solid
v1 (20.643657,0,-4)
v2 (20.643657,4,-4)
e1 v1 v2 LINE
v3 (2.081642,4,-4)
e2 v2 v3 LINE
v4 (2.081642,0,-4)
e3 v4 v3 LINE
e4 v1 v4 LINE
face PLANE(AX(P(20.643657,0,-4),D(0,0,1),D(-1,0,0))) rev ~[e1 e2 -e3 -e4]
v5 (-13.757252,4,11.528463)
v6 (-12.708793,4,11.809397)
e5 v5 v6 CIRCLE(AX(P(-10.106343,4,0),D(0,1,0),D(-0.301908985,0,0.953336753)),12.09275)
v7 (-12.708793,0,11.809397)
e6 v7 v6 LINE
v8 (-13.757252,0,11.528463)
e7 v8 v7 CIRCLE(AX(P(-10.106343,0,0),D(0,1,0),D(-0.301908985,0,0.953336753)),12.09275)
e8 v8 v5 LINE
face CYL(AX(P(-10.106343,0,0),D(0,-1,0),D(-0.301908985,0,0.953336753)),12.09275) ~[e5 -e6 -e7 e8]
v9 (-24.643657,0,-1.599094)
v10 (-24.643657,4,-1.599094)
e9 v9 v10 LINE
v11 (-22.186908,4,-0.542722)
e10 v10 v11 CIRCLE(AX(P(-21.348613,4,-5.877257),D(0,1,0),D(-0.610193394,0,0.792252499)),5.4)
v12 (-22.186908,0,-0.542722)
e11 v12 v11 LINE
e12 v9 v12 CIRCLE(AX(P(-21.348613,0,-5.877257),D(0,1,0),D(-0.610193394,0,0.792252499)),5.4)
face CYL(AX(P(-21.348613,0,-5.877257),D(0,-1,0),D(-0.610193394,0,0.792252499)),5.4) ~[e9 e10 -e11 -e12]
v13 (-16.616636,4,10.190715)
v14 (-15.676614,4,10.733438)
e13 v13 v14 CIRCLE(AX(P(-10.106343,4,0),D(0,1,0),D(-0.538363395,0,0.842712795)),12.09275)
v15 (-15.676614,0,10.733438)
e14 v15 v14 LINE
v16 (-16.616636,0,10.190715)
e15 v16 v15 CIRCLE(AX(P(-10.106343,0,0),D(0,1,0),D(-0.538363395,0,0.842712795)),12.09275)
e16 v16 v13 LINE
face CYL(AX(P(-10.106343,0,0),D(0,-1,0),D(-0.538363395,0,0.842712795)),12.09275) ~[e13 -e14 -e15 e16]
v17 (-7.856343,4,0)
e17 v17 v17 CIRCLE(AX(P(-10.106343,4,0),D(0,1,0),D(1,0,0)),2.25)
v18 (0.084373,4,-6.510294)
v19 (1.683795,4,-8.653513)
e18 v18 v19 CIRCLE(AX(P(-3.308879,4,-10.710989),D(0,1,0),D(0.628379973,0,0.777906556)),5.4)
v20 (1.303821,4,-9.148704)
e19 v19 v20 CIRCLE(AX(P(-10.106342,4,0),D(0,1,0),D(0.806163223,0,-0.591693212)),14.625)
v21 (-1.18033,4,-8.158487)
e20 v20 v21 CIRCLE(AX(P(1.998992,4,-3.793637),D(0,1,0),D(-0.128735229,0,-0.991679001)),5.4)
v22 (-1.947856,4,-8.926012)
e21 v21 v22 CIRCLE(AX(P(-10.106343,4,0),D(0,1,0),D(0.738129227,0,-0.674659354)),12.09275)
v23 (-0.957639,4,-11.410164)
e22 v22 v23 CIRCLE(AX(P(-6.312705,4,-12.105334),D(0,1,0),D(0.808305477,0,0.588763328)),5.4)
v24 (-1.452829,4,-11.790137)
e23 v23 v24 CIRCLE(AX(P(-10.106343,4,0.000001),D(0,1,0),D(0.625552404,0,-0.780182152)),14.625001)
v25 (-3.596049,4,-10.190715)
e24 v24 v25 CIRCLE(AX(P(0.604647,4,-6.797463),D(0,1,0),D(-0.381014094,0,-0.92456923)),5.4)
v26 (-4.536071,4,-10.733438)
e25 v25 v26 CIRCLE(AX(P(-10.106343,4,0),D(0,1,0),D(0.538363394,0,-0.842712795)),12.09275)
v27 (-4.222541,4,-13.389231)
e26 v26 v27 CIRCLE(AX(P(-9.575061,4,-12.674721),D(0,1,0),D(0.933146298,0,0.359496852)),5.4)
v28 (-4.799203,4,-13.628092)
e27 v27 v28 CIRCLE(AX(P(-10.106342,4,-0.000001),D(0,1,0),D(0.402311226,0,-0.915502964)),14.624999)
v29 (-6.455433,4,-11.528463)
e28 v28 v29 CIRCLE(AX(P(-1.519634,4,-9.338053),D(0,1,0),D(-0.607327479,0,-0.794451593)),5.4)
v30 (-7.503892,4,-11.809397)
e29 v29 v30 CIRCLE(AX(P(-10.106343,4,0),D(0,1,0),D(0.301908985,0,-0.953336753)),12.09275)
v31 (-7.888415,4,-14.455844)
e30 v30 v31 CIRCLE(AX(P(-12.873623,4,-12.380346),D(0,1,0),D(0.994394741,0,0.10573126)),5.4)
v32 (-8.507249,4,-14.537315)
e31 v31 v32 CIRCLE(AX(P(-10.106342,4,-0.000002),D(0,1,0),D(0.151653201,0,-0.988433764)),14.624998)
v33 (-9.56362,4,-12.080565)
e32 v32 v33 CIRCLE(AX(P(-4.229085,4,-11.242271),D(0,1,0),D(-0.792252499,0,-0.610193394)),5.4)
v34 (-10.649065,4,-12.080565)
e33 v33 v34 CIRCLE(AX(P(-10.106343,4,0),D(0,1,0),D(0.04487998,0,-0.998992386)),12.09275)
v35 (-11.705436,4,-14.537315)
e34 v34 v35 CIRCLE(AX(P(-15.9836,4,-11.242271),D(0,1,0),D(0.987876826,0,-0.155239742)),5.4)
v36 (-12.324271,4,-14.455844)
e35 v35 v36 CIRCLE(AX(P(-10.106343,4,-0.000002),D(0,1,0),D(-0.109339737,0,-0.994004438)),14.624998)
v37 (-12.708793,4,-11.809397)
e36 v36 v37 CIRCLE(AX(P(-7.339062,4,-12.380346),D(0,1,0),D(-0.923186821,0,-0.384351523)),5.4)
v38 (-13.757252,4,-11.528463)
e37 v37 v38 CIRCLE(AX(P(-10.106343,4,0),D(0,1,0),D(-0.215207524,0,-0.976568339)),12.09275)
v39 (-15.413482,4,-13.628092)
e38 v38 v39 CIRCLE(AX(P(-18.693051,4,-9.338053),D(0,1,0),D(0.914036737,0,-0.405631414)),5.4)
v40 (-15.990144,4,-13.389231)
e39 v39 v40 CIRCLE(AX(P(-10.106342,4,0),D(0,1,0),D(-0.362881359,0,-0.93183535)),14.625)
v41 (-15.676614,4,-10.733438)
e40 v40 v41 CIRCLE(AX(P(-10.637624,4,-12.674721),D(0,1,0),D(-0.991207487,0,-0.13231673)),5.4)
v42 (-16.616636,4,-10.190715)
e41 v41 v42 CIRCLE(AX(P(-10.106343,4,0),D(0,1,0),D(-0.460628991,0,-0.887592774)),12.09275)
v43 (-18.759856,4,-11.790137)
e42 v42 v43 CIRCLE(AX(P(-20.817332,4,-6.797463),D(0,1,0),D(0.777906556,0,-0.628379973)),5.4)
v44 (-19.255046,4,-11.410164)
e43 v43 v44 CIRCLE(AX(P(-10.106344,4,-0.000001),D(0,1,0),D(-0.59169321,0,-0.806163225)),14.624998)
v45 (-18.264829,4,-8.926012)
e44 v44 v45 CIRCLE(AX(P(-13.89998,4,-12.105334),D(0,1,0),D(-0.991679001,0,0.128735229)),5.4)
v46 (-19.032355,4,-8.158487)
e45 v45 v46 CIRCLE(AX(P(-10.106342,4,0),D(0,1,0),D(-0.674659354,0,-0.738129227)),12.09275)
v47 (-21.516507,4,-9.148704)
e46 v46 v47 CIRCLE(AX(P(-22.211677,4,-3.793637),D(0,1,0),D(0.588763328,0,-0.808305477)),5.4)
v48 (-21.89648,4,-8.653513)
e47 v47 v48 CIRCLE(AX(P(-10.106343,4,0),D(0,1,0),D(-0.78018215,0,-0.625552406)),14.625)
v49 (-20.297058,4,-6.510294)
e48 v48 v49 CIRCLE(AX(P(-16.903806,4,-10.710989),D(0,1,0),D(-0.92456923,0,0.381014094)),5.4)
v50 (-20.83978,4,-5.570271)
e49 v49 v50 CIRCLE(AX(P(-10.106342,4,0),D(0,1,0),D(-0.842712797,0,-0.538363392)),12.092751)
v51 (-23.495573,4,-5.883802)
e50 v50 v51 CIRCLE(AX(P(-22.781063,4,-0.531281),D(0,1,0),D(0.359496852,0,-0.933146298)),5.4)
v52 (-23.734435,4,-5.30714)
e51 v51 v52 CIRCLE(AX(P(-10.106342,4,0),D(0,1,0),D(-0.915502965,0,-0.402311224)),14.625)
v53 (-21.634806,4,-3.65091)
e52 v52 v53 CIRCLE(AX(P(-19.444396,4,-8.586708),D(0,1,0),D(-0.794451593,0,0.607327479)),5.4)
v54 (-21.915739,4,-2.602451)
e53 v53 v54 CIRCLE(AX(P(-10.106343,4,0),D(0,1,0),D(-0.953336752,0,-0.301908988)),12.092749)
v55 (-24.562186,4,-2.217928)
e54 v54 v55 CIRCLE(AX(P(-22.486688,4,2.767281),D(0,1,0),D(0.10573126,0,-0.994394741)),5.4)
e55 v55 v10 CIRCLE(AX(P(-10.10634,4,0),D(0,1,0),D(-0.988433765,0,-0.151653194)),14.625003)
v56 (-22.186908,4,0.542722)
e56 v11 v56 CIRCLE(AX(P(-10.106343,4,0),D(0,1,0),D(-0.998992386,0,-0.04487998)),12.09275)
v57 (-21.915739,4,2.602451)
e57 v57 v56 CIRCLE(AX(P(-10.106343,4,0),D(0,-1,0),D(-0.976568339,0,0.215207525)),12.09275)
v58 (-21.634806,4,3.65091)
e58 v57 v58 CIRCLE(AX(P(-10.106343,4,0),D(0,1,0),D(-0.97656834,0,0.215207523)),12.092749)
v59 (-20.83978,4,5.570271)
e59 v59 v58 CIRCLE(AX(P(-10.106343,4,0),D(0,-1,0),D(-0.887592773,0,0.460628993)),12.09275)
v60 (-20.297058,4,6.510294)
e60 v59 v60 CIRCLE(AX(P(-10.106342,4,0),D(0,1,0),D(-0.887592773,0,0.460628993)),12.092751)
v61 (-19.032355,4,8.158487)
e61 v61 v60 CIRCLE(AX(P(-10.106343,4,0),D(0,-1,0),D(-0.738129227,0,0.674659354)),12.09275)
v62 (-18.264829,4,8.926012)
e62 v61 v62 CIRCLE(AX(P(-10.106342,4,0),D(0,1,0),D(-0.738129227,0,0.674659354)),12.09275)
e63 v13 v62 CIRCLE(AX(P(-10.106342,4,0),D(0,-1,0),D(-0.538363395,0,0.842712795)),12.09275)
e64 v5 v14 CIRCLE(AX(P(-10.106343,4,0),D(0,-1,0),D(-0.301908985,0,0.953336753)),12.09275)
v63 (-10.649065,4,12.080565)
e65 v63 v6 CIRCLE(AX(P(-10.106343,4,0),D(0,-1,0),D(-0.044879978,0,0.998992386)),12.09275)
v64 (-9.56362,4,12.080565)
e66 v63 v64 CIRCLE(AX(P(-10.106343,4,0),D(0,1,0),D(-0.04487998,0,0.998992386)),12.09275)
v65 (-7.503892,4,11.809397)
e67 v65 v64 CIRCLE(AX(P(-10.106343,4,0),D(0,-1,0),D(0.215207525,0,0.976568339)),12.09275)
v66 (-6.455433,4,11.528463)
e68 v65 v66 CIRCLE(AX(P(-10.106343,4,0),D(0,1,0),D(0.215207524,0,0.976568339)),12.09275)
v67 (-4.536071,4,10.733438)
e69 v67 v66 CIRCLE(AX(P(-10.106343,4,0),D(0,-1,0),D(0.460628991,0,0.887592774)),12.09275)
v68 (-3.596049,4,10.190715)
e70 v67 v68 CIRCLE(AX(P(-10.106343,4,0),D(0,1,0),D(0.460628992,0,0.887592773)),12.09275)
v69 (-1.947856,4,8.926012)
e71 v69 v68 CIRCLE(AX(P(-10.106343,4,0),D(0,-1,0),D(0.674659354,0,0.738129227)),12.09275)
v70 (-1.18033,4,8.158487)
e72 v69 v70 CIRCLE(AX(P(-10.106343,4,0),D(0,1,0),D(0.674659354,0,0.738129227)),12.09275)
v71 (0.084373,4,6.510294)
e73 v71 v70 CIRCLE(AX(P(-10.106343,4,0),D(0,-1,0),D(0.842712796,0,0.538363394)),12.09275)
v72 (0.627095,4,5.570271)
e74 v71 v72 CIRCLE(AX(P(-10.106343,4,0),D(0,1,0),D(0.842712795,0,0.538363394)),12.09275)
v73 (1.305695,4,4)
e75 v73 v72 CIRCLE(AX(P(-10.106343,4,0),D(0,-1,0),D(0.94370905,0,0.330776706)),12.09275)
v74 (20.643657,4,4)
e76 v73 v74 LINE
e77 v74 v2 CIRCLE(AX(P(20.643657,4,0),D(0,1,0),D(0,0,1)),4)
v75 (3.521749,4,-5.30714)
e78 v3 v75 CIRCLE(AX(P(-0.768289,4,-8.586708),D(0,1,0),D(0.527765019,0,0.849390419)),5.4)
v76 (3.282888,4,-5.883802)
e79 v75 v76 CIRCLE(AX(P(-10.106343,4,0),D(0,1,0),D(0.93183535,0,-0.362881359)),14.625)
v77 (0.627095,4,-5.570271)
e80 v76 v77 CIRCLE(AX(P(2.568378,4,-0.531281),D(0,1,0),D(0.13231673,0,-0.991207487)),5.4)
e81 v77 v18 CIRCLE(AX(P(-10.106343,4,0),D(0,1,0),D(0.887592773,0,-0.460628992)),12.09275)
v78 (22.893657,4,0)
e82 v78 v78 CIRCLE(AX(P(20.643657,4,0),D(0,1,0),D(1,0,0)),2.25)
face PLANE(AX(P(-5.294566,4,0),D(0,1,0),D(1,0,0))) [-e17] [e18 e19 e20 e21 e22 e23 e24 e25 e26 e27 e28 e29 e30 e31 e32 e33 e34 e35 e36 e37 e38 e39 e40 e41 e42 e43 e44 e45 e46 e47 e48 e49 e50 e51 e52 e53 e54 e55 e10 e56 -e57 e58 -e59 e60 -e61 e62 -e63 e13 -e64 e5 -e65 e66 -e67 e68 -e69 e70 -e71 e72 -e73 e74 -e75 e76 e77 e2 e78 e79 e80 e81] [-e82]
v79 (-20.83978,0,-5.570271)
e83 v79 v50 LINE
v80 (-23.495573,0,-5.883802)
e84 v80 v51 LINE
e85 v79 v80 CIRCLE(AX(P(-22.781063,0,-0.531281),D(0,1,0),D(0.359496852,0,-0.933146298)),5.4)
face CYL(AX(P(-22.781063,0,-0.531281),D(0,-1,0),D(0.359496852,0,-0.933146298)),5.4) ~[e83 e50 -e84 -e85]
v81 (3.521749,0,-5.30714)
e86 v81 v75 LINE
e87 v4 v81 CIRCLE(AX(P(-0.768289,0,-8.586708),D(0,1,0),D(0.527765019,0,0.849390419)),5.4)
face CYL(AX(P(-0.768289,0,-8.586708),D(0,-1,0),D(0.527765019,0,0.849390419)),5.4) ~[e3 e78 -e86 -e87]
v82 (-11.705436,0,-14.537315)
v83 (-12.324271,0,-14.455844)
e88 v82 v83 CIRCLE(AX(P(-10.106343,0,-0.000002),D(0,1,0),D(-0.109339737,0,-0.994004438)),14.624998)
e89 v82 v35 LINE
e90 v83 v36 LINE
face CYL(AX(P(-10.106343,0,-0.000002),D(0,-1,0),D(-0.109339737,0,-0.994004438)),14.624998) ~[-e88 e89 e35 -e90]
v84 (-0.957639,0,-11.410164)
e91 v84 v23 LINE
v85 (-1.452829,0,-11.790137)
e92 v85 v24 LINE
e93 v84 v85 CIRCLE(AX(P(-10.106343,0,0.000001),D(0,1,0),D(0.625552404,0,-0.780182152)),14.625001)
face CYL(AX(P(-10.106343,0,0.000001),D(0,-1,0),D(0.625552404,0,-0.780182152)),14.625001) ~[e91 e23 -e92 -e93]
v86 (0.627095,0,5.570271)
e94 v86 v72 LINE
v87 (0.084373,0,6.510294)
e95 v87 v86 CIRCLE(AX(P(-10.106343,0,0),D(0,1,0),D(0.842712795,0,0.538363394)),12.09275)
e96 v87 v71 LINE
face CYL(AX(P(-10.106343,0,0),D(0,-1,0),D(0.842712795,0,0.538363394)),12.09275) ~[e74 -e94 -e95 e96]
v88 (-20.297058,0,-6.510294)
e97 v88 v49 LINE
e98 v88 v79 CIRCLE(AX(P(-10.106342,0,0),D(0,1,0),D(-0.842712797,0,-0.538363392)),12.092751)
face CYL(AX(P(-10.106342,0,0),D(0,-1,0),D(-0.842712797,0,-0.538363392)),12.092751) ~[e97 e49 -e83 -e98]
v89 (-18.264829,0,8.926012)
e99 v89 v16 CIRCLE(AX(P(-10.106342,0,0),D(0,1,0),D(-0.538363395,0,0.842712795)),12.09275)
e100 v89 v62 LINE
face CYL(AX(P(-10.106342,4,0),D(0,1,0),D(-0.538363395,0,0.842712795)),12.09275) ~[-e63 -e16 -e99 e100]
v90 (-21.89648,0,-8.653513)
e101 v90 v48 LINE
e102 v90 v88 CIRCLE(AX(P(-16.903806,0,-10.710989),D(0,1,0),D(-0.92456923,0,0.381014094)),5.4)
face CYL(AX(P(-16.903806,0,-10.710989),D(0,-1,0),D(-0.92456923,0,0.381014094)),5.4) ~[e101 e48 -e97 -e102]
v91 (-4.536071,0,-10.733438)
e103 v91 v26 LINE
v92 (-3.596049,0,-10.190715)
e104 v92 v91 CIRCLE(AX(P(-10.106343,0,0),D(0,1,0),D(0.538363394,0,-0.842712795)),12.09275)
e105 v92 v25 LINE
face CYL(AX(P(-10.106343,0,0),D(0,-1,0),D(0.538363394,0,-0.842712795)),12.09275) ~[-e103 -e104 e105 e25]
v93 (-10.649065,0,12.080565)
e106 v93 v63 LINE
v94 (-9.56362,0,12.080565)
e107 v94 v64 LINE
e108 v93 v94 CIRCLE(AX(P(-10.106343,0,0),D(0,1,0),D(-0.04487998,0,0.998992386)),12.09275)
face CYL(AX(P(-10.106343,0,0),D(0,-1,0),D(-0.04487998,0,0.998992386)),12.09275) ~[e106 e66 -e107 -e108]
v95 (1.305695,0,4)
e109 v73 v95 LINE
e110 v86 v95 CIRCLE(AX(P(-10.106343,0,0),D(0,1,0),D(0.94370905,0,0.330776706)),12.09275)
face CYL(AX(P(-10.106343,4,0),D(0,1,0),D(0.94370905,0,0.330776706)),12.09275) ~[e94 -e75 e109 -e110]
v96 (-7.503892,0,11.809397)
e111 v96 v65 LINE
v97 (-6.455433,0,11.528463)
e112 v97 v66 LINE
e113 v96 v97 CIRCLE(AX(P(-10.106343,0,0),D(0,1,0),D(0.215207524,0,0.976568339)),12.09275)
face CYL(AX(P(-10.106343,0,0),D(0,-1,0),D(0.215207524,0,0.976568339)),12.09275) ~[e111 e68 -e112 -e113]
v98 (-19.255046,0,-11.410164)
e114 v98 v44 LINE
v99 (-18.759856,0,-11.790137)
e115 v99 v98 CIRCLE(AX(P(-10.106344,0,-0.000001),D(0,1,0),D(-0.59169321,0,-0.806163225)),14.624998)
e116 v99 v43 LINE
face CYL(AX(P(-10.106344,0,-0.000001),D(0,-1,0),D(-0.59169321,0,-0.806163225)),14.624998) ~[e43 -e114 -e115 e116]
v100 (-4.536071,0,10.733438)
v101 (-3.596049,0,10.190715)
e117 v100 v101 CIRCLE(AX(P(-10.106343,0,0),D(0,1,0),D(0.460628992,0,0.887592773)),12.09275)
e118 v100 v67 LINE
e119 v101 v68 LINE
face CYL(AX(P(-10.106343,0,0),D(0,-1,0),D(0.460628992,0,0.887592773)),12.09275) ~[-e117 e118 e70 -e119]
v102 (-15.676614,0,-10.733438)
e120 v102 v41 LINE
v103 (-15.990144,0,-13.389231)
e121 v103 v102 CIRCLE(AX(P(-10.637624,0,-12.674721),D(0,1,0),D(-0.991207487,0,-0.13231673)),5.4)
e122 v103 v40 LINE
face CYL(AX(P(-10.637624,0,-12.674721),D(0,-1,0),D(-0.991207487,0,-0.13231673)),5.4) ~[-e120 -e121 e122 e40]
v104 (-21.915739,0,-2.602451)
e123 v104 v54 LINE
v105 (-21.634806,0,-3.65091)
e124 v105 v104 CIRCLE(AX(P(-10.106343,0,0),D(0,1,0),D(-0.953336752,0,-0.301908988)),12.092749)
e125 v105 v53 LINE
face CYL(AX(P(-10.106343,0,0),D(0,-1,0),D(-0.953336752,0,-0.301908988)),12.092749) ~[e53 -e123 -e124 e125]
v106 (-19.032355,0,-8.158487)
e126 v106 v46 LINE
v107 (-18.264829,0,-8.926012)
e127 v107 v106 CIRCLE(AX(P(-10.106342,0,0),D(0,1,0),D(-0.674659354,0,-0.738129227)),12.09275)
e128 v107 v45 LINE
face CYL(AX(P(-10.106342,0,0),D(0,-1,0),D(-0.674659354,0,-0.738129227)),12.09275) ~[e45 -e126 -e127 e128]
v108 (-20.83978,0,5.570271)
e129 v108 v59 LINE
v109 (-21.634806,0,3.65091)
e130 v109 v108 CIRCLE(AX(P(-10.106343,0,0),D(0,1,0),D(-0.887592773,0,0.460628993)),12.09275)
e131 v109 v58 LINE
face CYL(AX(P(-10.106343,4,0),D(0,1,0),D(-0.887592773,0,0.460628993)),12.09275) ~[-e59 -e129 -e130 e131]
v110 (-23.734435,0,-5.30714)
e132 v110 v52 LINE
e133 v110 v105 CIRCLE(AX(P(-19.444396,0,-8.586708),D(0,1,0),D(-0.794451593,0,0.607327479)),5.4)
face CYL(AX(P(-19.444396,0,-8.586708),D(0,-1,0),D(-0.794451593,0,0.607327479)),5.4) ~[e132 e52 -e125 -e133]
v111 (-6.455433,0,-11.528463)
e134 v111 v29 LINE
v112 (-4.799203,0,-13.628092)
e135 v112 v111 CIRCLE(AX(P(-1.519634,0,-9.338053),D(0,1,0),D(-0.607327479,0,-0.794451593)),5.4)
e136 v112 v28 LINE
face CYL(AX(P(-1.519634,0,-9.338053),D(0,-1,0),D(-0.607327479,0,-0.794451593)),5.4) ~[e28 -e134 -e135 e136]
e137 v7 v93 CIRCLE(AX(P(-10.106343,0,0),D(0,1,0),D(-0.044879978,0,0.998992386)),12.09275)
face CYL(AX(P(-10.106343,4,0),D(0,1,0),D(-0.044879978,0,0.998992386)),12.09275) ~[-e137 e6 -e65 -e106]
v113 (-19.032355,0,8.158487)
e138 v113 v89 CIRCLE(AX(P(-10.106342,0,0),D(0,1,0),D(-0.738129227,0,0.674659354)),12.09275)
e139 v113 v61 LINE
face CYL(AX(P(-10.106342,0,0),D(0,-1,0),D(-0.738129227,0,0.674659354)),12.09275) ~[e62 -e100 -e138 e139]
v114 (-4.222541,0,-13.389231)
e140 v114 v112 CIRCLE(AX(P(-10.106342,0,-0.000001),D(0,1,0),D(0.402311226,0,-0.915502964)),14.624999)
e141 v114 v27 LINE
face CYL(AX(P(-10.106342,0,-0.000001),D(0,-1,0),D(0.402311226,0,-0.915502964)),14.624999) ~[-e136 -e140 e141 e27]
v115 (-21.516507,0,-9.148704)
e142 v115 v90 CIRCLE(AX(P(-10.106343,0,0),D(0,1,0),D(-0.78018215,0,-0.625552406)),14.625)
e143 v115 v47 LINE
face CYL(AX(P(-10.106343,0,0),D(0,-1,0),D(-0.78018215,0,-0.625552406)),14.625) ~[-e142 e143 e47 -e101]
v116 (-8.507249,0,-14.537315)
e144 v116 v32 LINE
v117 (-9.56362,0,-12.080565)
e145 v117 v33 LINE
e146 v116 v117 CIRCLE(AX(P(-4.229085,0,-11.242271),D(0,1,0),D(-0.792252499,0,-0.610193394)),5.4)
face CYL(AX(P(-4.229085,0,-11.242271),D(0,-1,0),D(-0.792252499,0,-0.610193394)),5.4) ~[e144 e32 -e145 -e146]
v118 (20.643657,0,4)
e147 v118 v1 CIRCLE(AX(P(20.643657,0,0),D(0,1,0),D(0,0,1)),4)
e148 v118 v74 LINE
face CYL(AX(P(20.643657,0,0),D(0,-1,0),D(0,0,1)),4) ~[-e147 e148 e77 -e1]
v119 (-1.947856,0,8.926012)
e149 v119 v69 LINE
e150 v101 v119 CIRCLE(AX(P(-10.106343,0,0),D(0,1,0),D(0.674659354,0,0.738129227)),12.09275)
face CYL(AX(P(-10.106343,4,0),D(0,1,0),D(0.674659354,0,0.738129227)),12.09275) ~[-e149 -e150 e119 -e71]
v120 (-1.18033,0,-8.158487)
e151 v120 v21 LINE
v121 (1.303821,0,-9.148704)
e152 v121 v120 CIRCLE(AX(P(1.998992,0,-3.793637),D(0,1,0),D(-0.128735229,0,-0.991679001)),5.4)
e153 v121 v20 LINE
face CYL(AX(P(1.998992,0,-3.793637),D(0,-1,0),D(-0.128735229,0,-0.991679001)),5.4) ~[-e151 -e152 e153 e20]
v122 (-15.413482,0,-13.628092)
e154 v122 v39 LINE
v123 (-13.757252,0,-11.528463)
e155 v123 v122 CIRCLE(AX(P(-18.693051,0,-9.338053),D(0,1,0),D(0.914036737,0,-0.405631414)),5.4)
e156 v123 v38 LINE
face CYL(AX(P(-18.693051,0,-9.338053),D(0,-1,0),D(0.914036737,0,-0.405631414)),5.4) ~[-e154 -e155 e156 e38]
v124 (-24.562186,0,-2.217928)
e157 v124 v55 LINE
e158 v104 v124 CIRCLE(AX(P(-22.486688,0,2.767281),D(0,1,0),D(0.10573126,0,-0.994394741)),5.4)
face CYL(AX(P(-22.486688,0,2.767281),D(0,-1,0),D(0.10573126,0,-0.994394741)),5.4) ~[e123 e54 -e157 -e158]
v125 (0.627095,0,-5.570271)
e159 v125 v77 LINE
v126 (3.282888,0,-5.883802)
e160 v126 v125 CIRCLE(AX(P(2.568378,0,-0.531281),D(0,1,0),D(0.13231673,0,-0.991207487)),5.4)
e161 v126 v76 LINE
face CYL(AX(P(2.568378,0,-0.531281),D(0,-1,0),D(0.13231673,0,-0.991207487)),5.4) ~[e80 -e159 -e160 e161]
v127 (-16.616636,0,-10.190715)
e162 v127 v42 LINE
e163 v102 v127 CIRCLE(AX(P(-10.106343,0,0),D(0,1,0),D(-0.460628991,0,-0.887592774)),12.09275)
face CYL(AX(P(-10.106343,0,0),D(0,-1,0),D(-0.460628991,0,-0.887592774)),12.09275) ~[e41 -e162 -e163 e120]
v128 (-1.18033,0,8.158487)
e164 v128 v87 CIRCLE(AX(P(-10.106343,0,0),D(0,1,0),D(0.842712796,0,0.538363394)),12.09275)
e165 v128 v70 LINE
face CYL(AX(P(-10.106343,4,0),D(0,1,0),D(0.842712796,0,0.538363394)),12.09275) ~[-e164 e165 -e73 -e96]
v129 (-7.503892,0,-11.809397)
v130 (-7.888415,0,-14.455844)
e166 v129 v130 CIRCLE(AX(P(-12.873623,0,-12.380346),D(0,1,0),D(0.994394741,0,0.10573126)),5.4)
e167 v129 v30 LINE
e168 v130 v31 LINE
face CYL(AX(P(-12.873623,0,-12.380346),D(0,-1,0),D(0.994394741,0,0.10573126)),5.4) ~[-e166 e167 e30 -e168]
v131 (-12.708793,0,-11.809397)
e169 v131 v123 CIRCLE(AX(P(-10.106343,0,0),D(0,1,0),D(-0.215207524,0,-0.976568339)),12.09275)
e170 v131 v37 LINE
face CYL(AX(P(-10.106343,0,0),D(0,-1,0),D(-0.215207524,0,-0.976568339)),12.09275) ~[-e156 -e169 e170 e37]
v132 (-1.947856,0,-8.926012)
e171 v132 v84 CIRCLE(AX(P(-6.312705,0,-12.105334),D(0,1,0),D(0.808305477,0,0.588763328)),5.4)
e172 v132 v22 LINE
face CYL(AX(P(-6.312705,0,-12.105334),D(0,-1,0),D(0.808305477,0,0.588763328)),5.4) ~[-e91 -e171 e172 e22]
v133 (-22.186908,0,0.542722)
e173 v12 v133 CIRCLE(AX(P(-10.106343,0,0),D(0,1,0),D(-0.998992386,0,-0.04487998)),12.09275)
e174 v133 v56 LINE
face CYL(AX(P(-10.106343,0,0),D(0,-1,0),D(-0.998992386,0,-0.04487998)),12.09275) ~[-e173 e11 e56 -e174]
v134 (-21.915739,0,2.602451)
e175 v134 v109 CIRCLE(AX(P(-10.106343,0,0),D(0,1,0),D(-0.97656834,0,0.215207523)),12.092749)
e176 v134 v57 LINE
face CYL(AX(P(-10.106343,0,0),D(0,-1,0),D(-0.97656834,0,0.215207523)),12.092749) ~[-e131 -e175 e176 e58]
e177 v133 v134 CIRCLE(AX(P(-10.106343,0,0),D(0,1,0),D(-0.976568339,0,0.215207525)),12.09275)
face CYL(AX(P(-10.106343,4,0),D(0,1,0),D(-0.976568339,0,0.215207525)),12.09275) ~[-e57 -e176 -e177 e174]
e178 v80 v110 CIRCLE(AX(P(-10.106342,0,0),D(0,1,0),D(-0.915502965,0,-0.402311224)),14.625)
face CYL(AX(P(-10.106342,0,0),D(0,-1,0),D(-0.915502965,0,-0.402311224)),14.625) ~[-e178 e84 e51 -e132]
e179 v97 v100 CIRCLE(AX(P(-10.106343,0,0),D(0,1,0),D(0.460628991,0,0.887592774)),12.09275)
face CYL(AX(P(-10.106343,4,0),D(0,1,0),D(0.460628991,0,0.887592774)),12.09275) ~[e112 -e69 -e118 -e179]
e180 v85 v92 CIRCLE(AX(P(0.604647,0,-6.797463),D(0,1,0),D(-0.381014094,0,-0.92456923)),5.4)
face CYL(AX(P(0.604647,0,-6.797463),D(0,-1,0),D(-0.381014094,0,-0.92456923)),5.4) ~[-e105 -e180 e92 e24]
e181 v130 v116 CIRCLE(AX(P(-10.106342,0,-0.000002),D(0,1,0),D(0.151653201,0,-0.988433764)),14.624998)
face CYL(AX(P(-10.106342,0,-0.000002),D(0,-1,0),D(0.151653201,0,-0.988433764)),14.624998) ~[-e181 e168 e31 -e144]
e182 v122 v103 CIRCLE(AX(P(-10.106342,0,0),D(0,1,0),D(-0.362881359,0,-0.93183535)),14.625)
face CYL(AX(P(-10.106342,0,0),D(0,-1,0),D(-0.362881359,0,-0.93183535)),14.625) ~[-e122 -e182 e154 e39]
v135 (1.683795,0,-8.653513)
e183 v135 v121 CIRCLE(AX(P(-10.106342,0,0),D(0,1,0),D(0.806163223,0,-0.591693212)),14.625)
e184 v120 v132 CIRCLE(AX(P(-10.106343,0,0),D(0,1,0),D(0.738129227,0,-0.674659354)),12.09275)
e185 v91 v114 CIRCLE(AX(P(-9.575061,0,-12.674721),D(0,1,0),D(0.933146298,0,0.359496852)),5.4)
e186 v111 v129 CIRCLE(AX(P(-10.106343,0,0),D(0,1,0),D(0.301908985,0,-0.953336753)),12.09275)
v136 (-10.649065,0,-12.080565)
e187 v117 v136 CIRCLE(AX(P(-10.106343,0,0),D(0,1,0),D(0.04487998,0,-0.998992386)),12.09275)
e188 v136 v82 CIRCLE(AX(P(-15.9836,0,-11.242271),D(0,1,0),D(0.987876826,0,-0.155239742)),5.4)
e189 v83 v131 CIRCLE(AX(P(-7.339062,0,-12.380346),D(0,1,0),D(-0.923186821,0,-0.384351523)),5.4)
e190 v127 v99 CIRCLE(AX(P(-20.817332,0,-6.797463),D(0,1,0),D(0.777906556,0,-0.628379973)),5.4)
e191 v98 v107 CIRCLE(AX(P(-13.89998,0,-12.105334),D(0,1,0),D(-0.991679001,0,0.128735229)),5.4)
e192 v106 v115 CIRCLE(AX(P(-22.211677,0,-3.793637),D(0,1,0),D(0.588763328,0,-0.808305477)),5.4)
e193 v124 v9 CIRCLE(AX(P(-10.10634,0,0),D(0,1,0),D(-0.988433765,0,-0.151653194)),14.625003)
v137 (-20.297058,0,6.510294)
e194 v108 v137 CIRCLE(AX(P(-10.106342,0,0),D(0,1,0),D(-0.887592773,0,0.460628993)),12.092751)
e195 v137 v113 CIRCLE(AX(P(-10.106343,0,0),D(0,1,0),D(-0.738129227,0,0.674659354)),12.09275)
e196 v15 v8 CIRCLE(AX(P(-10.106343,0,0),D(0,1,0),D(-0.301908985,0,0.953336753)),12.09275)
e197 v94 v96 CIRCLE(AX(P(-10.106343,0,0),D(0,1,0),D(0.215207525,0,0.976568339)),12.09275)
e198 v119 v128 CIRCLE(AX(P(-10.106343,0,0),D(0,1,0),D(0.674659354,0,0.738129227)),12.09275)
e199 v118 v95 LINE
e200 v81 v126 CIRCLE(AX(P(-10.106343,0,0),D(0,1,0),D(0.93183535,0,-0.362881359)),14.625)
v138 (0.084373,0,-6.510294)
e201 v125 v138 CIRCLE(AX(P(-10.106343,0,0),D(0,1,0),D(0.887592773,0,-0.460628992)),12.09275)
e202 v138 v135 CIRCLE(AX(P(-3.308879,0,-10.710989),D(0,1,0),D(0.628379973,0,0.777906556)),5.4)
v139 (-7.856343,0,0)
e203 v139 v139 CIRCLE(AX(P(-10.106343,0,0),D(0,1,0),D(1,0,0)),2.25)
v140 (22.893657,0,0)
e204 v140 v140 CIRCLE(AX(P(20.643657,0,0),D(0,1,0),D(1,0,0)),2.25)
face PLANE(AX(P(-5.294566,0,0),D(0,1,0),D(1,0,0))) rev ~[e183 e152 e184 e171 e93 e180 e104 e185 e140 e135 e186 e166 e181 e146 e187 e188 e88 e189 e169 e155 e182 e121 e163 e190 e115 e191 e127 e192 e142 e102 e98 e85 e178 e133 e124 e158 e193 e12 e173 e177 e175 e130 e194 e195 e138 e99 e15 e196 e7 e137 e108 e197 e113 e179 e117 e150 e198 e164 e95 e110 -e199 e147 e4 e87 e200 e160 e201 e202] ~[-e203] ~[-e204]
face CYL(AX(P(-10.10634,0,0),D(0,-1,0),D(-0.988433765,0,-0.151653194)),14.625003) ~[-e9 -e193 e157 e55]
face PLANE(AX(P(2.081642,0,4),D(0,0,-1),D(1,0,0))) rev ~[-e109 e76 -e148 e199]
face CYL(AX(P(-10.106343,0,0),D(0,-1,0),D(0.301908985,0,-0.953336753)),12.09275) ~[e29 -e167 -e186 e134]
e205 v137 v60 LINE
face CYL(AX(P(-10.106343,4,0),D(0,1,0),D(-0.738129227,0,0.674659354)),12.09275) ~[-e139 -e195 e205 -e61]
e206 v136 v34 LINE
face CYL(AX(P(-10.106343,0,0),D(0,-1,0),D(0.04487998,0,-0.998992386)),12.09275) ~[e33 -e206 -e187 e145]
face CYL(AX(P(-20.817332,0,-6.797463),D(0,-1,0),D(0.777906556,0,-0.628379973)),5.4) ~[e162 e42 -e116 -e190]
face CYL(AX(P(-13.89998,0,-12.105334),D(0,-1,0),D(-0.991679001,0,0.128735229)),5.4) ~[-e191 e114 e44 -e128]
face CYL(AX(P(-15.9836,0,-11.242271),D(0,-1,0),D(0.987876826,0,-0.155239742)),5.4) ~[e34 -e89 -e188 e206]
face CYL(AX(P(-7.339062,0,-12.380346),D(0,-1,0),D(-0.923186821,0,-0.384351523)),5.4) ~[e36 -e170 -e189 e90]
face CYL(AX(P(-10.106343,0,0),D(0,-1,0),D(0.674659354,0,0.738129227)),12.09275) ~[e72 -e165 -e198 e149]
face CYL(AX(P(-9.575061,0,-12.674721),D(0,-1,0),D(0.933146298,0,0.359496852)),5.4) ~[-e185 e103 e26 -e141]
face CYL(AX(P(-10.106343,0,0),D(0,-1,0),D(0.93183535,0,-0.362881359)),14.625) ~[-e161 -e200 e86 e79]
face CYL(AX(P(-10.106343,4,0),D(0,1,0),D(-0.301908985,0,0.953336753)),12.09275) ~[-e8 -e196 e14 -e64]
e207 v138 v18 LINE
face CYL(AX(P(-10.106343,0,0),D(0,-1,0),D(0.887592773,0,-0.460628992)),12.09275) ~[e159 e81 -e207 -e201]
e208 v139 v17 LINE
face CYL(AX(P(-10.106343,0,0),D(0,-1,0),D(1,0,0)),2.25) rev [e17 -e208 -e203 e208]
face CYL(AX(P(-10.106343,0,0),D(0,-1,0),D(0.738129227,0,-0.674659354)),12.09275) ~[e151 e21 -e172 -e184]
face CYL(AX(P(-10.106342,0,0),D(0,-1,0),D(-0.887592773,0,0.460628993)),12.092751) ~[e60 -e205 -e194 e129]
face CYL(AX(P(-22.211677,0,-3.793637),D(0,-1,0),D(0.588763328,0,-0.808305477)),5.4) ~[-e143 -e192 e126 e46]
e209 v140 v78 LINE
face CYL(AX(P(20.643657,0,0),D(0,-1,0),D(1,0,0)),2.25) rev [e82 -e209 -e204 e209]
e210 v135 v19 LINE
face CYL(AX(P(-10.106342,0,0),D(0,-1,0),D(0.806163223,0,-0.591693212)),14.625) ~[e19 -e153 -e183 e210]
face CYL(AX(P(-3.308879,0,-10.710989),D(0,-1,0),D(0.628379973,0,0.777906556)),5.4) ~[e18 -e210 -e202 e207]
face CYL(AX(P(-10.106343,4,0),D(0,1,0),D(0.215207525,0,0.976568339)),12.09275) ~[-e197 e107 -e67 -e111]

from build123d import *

# Parameters (mm, degrees)
SKETCH1_R           = 2.25
BOSS_EXTRUDE1_DEPTH = 4
CUT_EXTRUDE1_DEPTH  = 10


with BuildPart() as part:
    # Sketch1 → Boss-Extrude1 (new body)
    with BuildSketch(Plane(origin=(0, 0, 0), x_dir=(1, 0, 0), z_dir=(0, 1, 0))):
        with BuildLine():
            Line((20.643657446, 4), (2.081641936, 4))
            ThreePointArc((2.081641936, 4), (2.861028333, 4.588201733), (3.521749436, 5.30713988))
            ThreePointArc((3.521749436, 5.30713988), (3.405395609, 5.596745198), (3.282888305, 5.883801663))
            ThreePointArc((3.282888305, 5.883801663), (1.93527598, 5.894040025), (0.627094961, 5.57027124))
            ThreePointArc((0.627094961, 5.57027124), (0.366286148, 6.046375), (0.084372603, 6.510293938))
            ThreePointArc((0.084372603, 6.510293938), (1.018855105, 7.48132754), (1.683794586, 8.65351323))
            ThreePointArc((1.683794586, 8.65351323), (1.496450048, 8.903135899), (1.303821399, 9.148703928))
            ThreePointArc((1.303821399, 9.148703928), (-0.000522033, 8.809805691), (-1.180330337, 8.158486898))
            ThreePointArc((-1.180330337, 8.158486898), (-1.555477026, 8.550865528), (-1.947855656, 8.926012217))
            ThreePointArc((-1.947855656, 8.926012217), (-1.296536862, 10.105820521), (-0.957638625, 11.410163953))
            ThreePointArc((-0.957638625, 11.410163953), (-1.203206655, 11.602792602), (-1.452829324, 11.79013714))
            ThreePointArc((-1.452829324, 11.79013714), (-2.625015014, 11.125197659), (-3.596048616, 10.190715157))
            ThreePointArc((-3.596048616, 10.190715157), (-4.059967554, 10.472628702), (-4.536071314, 10.733437515))
            ThreePointArc((-4.536071314, 10.733437515), (-4.212302529, 12.041618533), (-4.222540891, 13.389230859))
            ThreePointArc((-4.222540891, 13.389230859), (-4.509597355, 13.511738163), (-4.799202674, 13.62809199))
            ThreePointArc((-4.799202674, 13.62809199), (-5.759348103, 12.682425791), (-6.455432668, 11.528463019))
            ThreePointArc((-6.455432668, 11.528463019), (-6.976508546, 11.680699536), (-7.503891752, 11.809396783))
            ThreePointArc((-7.503891752, 11.809396783), (-7.529737283, 13.156800143), (-7.888414517, 14.455843809))
            ThreePointArc((-7.888414517, 14.455843809), (-8.197396993, 14.499881098), (-8.507248835, 14.537314892))
            ThreePointArc((-8.507248835, 14.537314892), (-9.18992168, 13.375367565), (-9.563620196, 12.080565177))
            ThreePointArc((-9.563620196, 12.080565177), (-10.106342554, 12.09275), (-10.649064912, 12.080565177))
            ThreePointArc((-10.649064912, 12.080565177), (-11.022763428, 13.375367565), (-11.705436272, 14.537314892))
            ThreePointArc((-11.705436272, 14.537314892), (-12.015288115, 14.499881098), (-12.324270591, 14.455843809))
            ThreePointArc((-12.324270591, 14.455843809), (-12.682947825, 13.156800143), (-12.708793355, 11.809396783))
            ThreePointArc((-12.708793355, 11.809396783), (-13.236176561, 11.680699536), (-13.757252439, 11.528463019))
            ThreePointArc((-13.757252439, 11.528463019), (-14.453337005, 12.682425791), (-15.413482434, 13.62809199))
            ThreePointArc((-15.413482434, 13.62809199), (-15.703087752, 13.511738163), (-15.990144217, 13.389230859))
            ThreePointArc((-15.990144217, 13.389230859), (-16.000382579, 12.041618533), (-15.676613793, 10.733437515))
            ThreePointArc((-15.676613793, 10.733437515), (-16.152717554, 10.472628702), (-16.616636492, 10.190715157))
            ThreePointArc((-16.616636492, 10.190715157), (-17.587670094, 11.125197659), (-18.759855783, 11.79013714))
            ThreePointArc((-18.759855783, 11.79013714), (-19.009478453, 11.602792602), (-19.255046482, 11.410163953))
            ThreePointArc((-19.255046482, 11.410163953), (-18.916148245, 10.105820521), (-18.264829452, 8.926012217))
            ThreePointArc((-18.264829452, 8.926012217), (-18.657208082, 8.550865528), (-19.032354771, 8.158486898))
            ThreePointArc((-19.032354771, 8.158486898), (-20.212163074, 8.809805691), (-21.516506507, 9.148703928))
            ThreePointArc((-21.516506507, 9.148703928), (-21.709135156, 8.903135899), (-21.896479694, 8.65351323))
            ThreePointArc((-21.896479694, 8.65351323), (-21.231540213, 7.48132754), (-20.297057711, 6.510293938))
            ThreePointArc((-20.297057711, 6.510293938), (-20.578971255, 6.046375), (-20.839780068, 5.57027124))
            ThreePointArc((-20.839780068, 5.57027124), (-22.147961087, 5.894040025), (-23.495573413, 5.883801663))
            ThreePointArc((-23.495573413, 5.883801663), (-23.618080717, 5.596745198), (-23.734434544, 5.30713988))
            ThreePointArc((-23.734434544, 5.30713988), (-22.788768345, 4.346994451), (-21.634805572, 3.650909885))
            ThreePointArc((-21.634805572, 3.650909885), (-21.78704209, 3.129834008), (-21.915739337, 2.602450802))
            ThreePointArc((-21.915739337, 2.602450802), (-23.263142697, 2.576605271), (-24.562186363, 2.217928037))
            ThreePointArc((-24.562186363, 2.217928037), (-24.606223651, 1.908945561), (-24.643657446, 1.599093719))
            ThreePointArc((-24.643657446, 1.599093719), (-23.481710119, 0.916420874), (-22.186907731, 0.542722358))
            ThreePointArc((-22.186907731, 0.542722358), (-22.199092554, 0), (-22.186907731, -0.542722358))
            ThreePointArc((-22.186907731, -0.542722358), (-23.481710119, -0.916420874), (-24.643657446, -1.599093719))
            ThreePointArc((-24.643657446, -1.599093719), (-24.606223651, -1.908945561), (-24.562186363, -2.217928037))
            ThreePointArc((-24.562186363, -2.217928037), (-23.263142697, -2.576605271), (-21.915739337, -2.602450802))
            ThreePointArc((-21.915739337, -2.602450802), (-21.78704209, -3.129834008), (-21.634805572, -3.650909885))
            ThreePointArc((-21.634805572, -3.650909885), (-22.788768345, -4.346994451), (-23.734434544, -5.30713988))
            ThreePointArc((-23.734434544, -5.30713988), (-23.618080717, -5.596745198), (-23.495573413, -5.883801663))
            ThreePointArc((-23.495573413, -5.883801663), (-22.147961087, -5.894040025), (-20.839780068, -5.57027124))
            ThreePointArc((-20.839780068, -5.57027124), (-20.578971255, -6.046375), (-20.297057711, -6.510293938))
            ThreePointArc((-20.297057711, -6.510293938), (-21.231540213, -7.48132754), (-21.896479694, -8.65351323))
            ThreePointArc((-21.896479694, -8.65351323), (-21.709135156, -8.903135899), (-21.516506507, -9.148703928))
            ThreePointArc((-21.516506507, -9.148703928), (-20.212163074, -8.809805691), (-19.032354771, -8.158486898))
            ThreePointArc((-19.032354771, -8.158486898), (-18.657208082, -8.550865528), (-18.264829452, -8.926012217))
            ThreePointArc((-18.264829452, -8.926012217), (-18.916148245, -10.105820521), (-19.255046482, -11.410163953))
            ThreePointArc((-19.255046482, -11.410163953), (-19.009478453, -11.602792602), (-18.759855783, -11.79013714))
            ThreePointArc((-18.759855783, -11.79013714), (-17.587670094, -11.125197659), (-16.616636492, -10.190715157))
            ThreePointArc((-16.616636492, -10.190715157), (-16.152717554, -10.472628702), (-15.676613793, -10.733437515))
            ThreePointArc((-15.676613793, -10.733437515), (-16.000382579, -12.041618533), (-15.990144217, -13.389230859))
            ThreePointArc((-15.990144217, -13.389230859), (-15.703087752, -13.511738163), (-15.413482434, -13.62809199))
            ThreePointArc((-15.413482434, -13.62809199), (-14.453337005, -12.682425791), (-13.757252439, -11.528463019))
            ThreePointArc((-13.757252439, -11.528463019), (-13.236176561, -11.680699536), (-12.708793355, -11.809396783))
            ThreePointArc((-12.708793355, -11.809396783), (-12.682947825, -13.156800143), (-12.324270591, -14.455843809))
            ThreePointArc((-12.324270591, -14.455843809), (-12.015288115, -14.499881098), (-11.705436272, -14.537314892))
            ThreePointArc((-11.705436272, -14.537314892), (-11.022763428, -13.375367565), (-10.649064912, -12.080565177))
            ThreePointArc((-10.649064912, -12.080565177), (-10.106342554, -12.09275), (-9.563620196, -12.080565177))
            ThreePointArc((-9.563620196, -12.080565177), (-9.18992168, -13.375367565), (-8.507248835, -14.537314892))
            ThreePointArc((-8.507248835, -14.537314892), (-8.197396993, -14.499881098), (-7.888414517, -14.455843809))
            ThreePointArc((-7.888414517, -14.455843809), (-7.529737283, -13.156800143), (-7.503891752, -11.809396783))
            ThreePointArc((-7.503891752, -11.809396783), (-6.976508546, -11.680699536), (-6.455432668, -11.528463019))
            ThreePointArc((-6.455432668, -11.528463019), (-5.759348103, -12.682425791), (-4.799202674, -13.62809199))
            ThreePointArc((-4.799202674, -13.62809199), (-4.509597355, -13.511738163), (-4.222540891, -13.389230859))
            ThreePointArc((-4.222540891, -13.389230859), (-4.212302529, -12.041618533), (-4.536071314, -10.733437515))
            ThreePointArc((-4.536071314, -10.733437515), (-4.059967554, -10.472628702), (-3.596048616, -10.190715157))
            ThreePointArc((-3.596048616, -10.190715157), (-2.625015014, -11.125197659), (-1.452829324, -11.79013714))
            ThreePointArc((-1.452829324, -11.79013714), (-1.203206655, -11.602792602), (-0.957638625, -11.410163953))
            ThreePointArc((-0.957638625, -11.410163953), (-1.296536862, -10.105820521), (-1.947855656, -8.926012217))
            ThreePointArc((-1.947855656, -8.926012217), (-1.555477026, -8.550865528), (-1.180330337, -8.158486898))
            ThreePointArc((-1.180330337, -8.158486898), (-0.000522033, -8.809805691), (1.303821399, -9.148703928))
            ThreePointArc((1.303821399, -9.148703928), (1.496450048, -8.903135899), (1.683794586, -8.65351323))
            ThreePointArc((1.683794586, -8.65351323), (1.018855105, -7.48132754), (0.084372603, -6.510293938))
            ThreePointArc((0.084372603, -6.510293938), (0.366286148, -6.046375), (0.627094961, -5.57027124))
            ThreePointArc((0.627094961, -5.57027124), (1.93527598, -5.894040025), (3.282888305, -5.883801663))
            ThreePointArc((3.282888305, -5.883801663), (3.405395609, -5.596745198), (3.521749436, -5.30713988))
            ThreePointArc((3.521749436, -5.30713988), (2.861028333, -4.588201733), (2.081641936, -4))
            Line((2.081641936, -4), (20.643657446, -4))
            ThreePointArc((20.643657446, -4), (24.643657446, 0), (20.643657446, 4))
        make_face()
        with Locations((-10.106342554, 0)):
            Circle(SKETCH1_R, mode=Mode.SUBTRACT)
        with Locations((20.643657446, 0)):
            Circle(SKETCH1_R, mode=Mode.SUBTRACT)
    extrude(amount=BOSS_EXTRUDE1_DEPTH)

    # Sketch2 → Cut-Extrude1 (cut)
    with BuildSketch(Plane(origin=(0, 4, 0), x_dir=(1, 0, 0), z_dir=(0, 1, 0))):
        with BuildLine():
            ThreePointArc((-24.562186363, -2.217928037), (-23.263142697, -2.576605271), (-21.915739337, -2.602450802))
            ThreePointArc((-21.915739337, -2.602450802), (-22.095637401, -1.578420611), (-22.186907731, -0.542722358))
            ThreePointArc((-22.186907731, -0.542722358), (-23.481710119, -0.916420874), (-24.643657446, -1.599093719))
            ThreePointArc((-24.643657446, -1.599093719), (-24.606223651, -1.908945561), (-24.562186363, -2.217928037))
        make_face()
        with BuildLine():
            ThreePointArc((-23.495573413, -5.883801663), (-22.147961087, -5.894040025), (-20.839780068, -5.57027124))
            ThreePointArc((-20.839780068, -5.57027124), (-21.278586771, -4.627695077), (-21.634805572, -3.650909885))
            ThreePointArc((-21.634805572, -3.650909885), (-22.788768345, -4.346994451), (-23.734434544, -5.30713988))
            ThreePointArc((-23.734434544, -5.30713988), (-23.618080717, -5.596745198), (-23.495573413, -5.883801663))
        make_face()
        with BuildLine():
            ThreePointArc((-21.516506507, -9.148703928), (-20.212163074, -8.809805691), (-19.032354771, -8.158486898))
            ThreePointArc((-19.032354771, -8.158486898), (-19.70016616, -7.361599771), (-20.297057711, -6.510293938))
            ThreePointArc((-20.297057711, -6.510293938), (-21.231540213, -7.48132754), (-21.896479694, -8.65351323))
            ThreePointArc((-21.896479694, -8.65351323), (-21.709135156, -8.903135899), (-21.516506507, -9.148703928))
        make_face()
        with BuildLine():
            ThreePointArc((-18.759855783, -11.79013714), (-17.587670094, -11.125197659), (-16.616636492, -10.190715157))
            ThreePointArc((-16.616636492, -10.190715157), (-17.467942324, -9.593823606), (-18.264829452, -8.926012217))
            ThreePointArc((-18.264829452, -8.926012217), (-18.916148245, -10.105820521), (-19.255046482, -11.410163953))
            ThreePointArc((-19.255046482, -11.410163953), (-19.009478453, -11.602792602), (-18.759855783, -11.79013714))
        make_face()
        with BuildLine():
            ThreePointArc((-15.413482434, -13.62809199), (-14.453337005, -12.682425791), (-13.757252439, -11.528463019))
            ThreePointArc((-13.757252439, -11.528463019), (-14.734037631, -11.172244217), (-15.676613793, -10.733437515))
            ThreePointArc((-15.676613793, -10.733437515), (-16.000382579, -12.041618533), (-15.990144217, -13.389230859))
            ThreePointArc((-15.990144217, -13.389230859), (-15.703087752, -13.511738163), (-15.413482434, -13.62809199))
        make_face()
        with BuildLine():
            ThreePointArc((-11.705436272, -14.537314892), (-11.022763428, -13.375367565), (-10.649064912, -12.080565177))
            ThreePointArc((-10.649064912, -12.080565177), (-11.684763165, -11.989294847), (-12.708793355, -11.809396783))
            ThreePointArc((-12.708793355, -11.809396783), (-12.682947825, -13.156800143), (-12.324270591, -14.455843809))
            ThreePointArc((-12.324270591, -14.455843809), (-12.015288115, -14.499881098), (-11.705436272, -14.537314892))
        make_face()
        with BuildLine():
            ThreePointArc((-7.888414517, -14.455843809), (-7.529737283, -13.156800143), (-7.503891752, -11.809396783))
            ThreePointArc((-7.503891752, -11.809396783), (-8.527921943, -11.989294847), (-9.563620196, -12.080565177))
            ThreePointArc((-9.563620196, -12.080565177), (-9.18992168, -13.375367565), (-8.507248835, -14.537314892))
            ThreePointArc((-8.507248835, -14.537314892), (-8.197396993, -14.499881098), (-7.888414517, -14.455843809))
        make_face()
        with BuildLine():
            ThreePointArc((-4.222540891, -13.389230859), (-4.212302529, -12.041618533), (-4.536071314, -10.733437515))
            ThreePointArc((-4.536071314, -10.733437515), (-5.478647477, -11.172244217), (-6.455432668, -11.528463019))
            ThreePointArc((-6.455432668, -11.528463019), (-5.759348103, -12.682425791), (-4.799202674, -13.62809199))
            ThreePointArc((-4.799202674, -13.62809199), (-4.509597355, -13.511738163), (-4.222540891, -13.389230859))
        make_face()
        with BuildLine():
            ThreePointArc((-0.957638625, -11.410163953), (-1.296536862, -10.105820521), (-1.947855656, -8.926012217))
            ThreePointArc((-1.947855656, -8.926012217), (-2.744742783, -9.593823606), (-3.596048616, -10.190715157))
            ThreePointArc((-3.596048616, -10.190715157), (-2.625015014, -11.125197659), (-1.452829324, -11.79013714))
            ThreePointArc((-1.452829324, -11.79013714), (-1.203206655, -11.602792602), (-0.957638625, -11.410163953))
        make_face()
        with BuildLine():
            ThreePointArc((1.683794586, -8.65351323), (1.018855105, -7.48132754), (0.084372603, -6.510293938))
            ThreePointArc((0.084372603, -6.510293938), (-0.512518948, -7.361599771), (-1.180330337, -8.158486898))
            ThreePointArc((-1.180330337, -8.158486898), (-0.000522033, -8.809805691), (1.303821399, -9.148703928))
            ThreePointArc((1.303821399, -9.148703928), (1.496450048, -8.903135899), (1.683794586, -8.65351323))
        make_face()
        with BuildLine():
            ThreePointArc((3.521749436, -5.30713988), (2.861028333, -4.588201733), (2.081641936, -4))
            Line((2.081641936, -4), (1.305695063, -4))
            ThreePointArc((1.305695063, -4), (0.994195953, -4.797149927), (0.627094961, -5.57027124))
            ThreePointArc((0.627094961, -5.57027124), (1.93527598, -5.894040025), (3.282888305, -5.883801663))
            ThreePointArc((3.282888305, -5.883801663), (3.405395609, -5.596745198), (3.521749436, -5.30713988))
        make_face()
    extrude(amount=-CUT_EXTRUDE1_DEPTH, mode=Mode.SUBTRACT)


solid = part.part
